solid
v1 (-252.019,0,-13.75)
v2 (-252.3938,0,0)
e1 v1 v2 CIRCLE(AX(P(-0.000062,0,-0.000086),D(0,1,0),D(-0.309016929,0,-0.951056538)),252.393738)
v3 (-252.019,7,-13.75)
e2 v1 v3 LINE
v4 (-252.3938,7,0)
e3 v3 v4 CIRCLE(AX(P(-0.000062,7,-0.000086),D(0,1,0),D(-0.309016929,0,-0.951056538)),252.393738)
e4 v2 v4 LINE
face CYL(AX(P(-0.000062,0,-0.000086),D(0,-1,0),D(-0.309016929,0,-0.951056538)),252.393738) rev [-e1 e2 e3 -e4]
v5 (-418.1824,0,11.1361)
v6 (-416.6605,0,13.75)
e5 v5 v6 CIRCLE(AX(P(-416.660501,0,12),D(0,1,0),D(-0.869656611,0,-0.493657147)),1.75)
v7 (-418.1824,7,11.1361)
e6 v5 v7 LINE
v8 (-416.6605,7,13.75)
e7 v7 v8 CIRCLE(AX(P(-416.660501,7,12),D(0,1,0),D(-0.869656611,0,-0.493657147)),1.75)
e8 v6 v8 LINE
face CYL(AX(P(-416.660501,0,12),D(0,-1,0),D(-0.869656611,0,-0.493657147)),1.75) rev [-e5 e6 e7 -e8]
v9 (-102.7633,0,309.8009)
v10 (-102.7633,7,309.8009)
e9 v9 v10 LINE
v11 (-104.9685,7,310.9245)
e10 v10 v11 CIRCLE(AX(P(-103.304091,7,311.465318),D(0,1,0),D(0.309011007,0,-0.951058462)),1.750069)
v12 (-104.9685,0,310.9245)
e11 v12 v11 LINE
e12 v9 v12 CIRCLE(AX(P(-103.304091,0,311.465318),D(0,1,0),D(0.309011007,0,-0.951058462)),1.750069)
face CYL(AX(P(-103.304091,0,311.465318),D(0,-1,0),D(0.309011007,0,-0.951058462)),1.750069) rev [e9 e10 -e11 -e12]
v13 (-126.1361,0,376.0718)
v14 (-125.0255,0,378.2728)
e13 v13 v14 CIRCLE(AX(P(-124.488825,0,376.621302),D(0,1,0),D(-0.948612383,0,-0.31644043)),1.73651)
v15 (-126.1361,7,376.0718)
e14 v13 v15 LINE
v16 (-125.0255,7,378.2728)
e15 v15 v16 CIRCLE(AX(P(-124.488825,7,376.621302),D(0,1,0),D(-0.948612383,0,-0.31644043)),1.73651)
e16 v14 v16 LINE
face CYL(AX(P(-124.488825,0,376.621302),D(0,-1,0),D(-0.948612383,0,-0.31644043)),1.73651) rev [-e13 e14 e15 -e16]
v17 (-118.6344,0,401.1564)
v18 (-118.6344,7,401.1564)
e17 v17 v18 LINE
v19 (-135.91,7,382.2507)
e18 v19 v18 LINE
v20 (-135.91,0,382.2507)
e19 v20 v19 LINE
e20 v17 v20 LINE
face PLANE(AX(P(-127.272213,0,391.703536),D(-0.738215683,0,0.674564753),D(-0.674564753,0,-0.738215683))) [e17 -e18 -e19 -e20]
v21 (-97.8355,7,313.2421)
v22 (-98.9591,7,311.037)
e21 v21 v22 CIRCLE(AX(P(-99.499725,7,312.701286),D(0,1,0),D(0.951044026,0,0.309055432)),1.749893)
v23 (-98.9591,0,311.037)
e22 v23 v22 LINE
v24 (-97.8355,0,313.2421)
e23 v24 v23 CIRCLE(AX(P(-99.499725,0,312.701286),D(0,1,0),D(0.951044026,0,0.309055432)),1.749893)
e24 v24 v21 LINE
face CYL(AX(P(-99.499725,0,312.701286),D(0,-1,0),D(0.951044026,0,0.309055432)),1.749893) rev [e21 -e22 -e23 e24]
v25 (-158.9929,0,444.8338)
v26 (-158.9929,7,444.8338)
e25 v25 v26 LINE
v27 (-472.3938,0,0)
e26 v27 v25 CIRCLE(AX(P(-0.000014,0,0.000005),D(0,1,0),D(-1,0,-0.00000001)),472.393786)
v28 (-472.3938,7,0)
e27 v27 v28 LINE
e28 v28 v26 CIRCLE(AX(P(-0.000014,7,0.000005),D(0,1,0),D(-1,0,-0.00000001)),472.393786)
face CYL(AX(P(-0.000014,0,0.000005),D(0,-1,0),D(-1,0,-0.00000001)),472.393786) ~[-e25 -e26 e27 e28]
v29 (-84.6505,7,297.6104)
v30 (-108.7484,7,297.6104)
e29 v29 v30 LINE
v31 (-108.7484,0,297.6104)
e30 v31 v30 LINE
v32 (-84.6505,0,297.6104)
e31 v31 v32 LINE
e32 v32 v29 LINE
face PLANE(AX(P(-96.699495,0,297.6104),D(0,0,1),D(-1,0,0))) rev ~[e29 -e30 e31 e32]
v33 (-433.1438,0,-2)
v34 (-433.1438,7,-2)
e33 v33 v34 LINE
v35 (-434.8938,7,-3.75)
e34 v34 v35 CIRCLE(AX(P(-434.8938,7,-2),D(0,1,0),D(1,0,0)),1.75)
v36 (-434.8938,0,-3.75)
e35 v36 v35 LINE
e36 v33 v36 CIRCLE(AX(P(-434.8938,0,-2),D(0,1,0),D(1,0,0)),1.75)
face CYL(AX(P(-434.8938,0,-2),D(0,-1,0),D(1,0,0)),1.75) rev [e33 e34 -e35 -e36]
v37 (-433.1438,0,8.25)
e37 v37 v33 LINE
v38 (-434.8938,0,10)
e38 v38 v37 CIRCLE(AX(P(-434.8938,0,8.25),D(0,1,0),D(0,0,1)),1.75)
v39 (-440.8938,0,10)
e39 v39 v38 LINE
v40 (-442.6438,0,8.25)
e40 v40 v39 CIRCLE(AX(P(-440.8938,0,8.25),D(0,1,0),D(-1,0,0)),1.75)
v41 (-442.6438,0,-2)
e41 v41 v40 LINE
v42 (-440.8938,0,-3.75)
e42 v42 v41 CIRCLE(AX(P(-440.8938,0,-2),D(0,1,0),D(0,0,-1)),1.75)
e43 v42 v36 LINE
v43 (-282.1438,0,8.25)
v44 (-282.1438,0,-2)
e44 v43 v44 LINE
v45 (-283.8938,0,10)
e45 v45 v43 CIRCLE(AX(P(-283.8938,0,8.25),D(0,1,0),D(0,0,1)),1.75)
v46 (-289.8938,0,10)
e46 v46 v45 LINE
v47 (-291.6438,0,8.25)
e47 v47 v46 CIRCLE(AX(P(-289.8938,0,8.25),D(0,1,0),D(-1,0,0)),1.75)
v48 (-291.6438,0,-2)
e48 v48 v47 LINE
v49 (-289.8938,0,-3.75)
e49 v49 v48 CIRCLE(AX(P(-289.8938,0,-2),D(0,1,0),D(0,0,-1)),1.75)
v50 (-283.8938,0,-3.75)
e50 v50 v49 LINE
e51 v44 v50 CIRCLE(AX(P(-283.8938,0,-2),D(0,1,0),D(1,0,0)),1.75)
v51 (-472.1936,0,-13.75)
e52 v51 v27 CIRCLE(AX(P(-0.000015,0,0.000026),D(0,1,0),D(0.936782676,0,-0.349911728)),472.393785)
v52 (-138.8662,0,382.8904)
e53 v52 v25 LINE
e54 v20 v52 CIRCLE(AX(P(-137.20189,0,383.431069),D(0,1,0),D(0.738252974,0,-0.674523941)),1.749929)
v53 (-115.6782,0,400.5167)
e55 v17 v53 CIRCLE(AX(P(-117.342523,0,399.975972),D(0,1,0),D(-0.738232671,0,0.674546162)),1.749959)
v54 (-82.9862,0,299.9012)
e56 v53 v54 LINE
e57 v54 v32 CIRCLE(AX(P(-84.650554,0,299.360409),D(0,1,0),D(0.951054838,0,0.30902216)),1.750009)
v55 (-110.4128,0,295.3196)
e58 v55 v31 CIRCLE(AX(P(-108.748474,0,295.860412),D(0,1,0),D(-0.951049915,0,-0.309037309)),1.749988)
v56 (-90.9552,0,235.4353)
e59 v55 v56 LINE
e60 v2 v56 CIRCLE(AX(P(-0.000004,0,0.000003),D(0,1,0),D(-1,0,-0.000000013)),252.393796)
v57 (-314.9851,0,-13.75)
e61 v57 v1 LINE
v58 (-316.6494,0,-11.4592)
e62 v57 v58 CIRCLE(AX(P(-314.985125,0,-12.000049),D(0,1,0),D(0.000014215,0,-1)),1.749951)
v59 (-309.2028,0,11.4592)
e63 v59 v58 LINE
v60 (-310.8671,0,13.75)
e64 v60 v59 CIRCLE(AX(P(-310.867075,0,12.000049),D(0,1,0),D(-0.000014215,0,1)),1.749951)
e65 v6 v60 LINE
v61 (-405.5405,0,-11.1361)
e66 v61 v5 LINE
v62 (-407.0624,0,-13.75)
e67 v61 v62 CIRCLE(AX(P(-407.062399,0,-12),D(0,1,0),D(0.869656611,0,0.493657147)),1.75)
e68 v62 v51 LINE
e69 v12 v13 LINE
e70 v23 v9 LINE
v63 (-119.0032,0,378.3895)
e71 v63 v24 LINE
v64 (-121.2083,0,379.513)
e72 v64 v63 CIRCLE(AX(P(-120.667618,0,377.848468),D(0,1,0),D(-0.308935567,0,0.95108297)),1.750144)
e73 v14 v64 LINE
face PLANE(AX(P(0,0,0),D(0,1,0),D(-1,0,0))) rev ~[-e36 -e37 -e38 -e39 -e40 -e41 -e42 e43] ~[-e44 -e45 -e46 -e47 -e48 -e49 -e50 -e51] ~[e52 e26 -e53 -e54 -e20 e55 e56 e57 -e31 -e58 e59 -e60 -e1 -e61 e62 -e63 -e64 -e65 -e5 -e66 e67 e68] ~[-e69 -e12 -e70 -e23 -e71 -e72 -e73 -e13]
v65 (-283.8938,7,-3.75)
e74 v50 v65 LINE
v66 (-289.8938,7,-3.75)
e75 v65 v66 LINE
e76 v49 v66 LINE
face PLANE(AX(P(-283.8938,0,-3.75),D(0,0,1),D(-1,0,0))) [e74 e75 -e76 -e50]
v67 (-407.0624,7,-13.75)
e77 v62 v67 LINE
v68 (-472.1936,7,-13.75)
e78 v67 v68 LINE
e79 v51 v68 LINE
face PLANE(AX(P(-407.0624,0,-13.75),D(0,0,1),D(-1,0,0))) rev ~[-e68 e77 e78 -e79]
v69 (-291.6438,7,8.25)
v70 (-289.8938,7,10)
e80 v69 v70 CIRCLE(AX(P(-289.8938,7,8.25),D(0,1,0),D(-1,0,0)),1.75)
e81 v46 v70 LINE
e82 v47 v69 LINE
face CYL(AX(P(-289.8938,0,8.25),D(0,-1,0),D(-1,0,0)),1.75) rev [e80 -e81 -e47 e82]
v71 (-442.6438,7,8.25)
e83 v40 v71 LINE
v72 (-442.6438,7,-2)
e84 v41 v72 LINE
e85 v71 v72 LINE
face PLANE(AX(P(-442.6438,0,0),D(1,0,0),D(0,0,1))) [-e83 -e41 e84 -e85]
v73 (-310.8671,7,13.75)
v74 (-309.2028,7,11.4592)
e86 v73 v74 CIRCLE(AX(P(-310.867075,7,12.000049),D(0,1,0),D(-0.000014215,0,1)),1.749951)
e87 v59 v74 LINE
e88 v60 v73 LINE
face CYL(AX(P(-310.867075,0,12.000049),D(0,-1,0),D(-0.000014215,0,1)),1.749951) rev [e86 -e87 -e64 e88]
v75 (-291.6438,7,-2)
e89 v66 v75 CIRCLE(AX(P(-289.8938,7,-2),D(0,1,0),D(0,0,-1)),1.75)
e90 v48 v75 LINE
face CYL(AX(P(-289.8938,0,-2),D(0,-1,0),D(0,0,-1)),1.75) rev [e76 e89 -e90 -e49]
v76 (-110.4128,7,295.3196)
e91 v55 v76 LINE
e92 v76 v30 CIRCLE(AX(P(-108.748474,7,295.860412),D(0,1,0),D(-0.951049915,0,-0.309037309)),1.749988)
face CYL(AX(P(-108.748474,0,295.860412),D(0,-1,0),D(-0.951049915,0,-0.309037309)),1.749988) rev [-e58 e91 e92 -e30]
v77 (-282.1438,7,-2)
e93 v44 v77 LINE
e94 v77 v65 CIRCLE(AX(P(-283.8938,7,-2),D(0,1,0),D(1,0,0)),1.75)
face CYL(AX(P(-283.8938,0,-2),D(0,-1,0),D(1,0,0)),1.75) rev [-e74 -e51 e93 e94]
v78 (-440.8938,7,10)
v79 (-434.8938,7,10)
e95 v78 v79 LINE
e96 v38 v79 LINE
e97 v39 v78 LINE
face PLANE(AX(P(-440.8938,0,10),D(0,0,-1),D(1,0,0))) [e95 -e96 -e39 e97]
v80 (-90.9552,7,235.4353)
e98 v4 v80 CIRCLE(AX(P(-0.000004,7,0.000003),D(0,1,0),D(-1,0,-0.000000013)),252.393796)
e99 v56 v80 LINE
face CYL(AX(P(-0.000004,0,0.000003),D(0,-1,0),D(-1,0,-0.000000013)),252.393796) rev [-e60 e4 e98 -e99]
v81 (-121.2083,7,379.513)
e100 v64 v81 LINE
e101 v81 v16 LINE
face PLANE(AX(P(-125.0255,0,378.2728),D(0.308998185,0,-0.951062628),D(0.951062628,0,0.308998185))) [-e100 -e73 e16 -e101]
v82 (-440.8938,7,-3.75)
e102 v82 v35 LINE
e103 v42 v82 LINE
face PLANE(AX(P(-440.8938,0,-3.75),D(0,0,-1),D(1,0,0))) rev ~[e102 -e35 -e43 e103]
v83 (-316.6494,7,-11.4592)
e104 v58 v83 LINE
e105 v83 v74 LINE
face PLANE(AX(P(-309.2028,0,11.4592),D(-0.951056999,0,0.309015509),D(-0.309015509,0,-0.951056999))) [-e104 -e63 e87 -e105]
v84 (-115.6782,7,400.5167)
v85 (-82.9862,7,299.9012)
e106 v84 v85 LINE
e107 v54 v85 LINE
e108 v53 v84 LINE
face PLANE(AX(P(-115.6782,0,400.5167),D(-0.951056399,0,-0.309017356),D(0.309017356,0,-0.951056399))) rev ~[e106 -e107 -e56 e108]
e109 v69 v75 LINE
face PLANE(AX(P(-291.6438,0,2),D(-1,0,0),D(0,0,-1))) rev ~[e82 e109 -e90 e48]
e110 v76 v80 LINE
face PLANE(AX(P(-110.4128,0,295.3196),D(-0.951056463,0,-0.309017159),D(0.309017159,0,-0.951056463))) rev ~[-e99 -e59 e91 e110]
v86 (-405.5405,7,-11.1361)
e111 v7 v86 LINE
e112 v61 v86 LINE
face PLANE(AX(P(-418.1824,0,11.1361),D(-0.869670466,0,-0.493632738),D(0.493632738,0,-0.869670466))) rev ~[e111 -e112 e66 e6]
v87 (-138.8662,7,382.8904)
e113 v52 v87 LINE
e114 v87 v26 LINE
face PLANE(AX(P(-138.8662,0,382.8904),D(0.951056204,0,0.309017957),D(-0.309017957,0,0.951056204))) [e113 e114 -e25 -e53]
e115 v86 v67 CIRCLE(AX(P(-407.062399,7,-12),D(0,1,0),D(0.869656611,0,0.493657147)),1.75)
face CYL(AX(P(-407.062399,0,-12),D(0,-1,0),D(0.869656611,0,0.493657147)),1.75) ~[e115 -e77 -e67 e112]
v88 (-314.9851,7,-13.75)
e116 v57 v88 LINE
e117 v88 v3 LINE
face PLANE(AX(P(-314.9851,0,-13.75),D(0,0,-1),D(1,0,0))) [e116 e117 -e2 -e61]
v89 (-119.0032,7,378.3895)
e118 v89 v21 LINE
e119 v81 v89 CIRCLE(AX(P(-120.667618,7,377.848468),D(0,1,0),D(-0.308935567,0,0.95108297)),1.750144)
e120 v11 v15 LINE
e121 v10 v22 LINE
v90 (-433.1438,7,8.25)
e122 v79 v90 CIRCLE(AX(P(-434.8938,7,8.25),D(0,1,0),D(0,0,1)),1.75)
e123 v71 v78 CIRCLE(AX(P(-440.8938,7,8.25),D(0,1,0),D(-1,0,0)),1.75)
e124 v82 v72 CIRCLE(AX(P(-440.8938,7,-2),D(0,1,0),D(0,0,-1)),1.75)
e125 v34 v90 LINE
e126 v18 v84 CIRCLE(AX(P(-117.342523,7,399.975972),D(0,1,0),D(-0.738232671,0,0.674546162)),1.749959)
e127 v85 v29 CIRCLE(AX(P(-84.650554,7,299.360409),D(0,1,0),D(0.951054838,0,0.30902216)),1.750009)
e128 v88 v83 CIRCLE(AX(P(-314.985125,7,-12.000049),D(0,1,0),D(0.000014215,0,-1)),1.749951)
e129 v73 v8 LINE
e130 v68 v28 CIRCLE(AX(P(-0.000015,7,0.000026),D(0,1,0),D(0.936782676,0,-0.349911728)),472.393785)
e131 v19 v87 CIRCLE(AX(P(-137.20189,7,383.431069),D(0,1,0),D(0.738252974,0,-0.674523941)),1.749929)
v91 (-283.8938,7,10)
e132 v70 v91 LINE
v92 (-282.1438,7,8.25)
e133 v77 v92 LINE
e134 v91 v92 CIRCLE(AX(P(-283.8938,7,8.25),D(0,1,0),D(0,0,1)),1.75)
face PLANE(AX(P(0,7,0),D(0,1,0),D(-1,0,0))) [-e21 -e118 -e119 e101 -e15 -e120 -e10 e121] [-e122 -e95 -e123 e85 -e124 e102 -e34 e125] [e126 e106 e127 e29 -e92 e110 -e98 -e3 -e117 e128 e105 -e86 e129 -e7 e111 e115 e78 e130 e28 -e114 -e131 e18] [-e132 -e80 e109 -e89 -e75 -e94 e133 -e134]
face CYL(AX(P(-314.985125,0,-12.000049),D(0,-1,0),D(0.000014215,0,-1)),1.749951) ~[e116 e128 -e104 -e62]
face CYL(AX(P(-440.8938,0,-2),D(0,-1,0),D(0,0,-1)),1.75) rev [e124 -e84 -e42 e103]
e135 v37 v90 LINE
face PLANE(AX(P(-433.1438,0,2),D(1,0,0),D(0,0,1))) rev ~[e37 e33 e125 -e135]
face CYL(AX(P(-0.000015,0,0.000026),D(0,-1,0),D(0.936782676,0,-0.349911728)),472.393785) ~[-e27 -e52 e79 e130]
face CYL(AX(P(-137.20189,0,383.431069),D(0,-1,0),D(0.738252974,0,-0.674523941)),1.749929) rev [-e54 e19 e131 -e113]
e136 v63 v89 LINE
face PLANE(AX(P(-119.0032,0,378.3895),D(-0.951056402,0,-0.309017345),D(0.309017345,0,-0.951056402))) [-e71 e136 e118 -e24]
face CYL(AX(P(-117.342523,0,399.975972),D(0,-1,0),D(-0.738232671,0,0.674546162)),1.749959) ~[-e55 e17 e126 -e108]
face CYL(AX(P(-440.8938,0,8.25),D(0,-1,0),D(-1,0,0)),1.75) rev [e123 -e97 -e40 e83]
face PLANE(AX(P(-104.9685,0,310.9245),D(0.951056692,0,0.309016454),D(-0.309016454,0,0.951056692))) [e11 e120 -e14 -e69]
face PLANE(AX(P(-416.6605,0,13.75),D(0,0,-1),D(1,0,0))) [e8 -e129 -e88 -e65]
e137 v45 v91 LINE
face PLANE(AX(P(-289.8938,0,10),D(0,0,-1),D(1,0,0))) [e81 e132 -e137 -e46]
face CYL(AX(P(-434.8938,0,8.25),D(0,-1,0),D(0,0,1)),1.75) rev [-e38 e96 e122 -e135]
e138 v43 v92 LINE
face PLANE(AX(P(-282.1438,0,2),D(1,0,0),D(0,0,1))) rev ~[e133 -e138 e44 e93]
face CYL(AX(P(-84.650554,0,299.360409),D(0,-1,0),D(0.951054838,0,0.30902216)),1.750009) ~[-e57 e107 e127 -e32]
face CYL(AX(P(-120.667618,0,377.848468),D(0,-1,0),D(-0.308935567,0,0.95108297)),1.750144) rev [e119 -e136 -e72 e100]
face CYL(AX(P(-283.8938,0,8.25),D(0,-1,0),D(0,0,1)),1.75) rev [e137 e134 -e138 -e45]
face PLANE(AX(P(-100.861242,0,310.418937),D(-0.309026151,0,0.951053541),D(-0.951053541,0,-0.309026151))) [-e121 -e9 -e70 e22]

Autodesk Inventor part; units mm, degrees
ref_plane "YZ Plane" through (0, 0, 0) normal (1, 0, 0) x (0, 1, 0)
ref_plane "XZ Plane" through (0, 0, 0) normal (0, 1, 0) x (-1, 0, 0)
ref_plane "XY Plane" through (0, 0, 0) normal (0, 0, 1) x (1, 0, 0)
sketch "Sketch1" plane through (0, 0, 0) normal (0, 1, 0) x (-1, 0, 0)
  line L0 (0, 0) -> (618.9442, 0)
  line L1 (0, 0) -> (191.2643, 588.6509)
  line L2 (0, 0) -> (-500.7364, 363.8063)
  line L3 (0, 0) -> (-500.7364, -363.8063)
  line L4 (0, 0) -> (191.2643, -588.6509)
  line L5 (396.6438, 3.75) -> (328.1438, 3.75)
  line L6 (328.1438, -3.75) -> (396.6438, -3.75)
  arc A0 (472.3938, 0) -> (145.9777, 449.2732) centre (0, 0) ccw
  arc A1 (77.994, -240.0408) -> (252.3938, 0) centre (0, 0) ccw
  line L7 (289.8938, 3.75) -> (283.8938, 3.75)
  line L8 (283.8938, -3.75) -> (289.8938, -3.75)
  arc A2 (328.1438, 3.75) -> (326.3938, 2) centre (328.1438, 2) ccw
  arc A3 (326.3938, -2) -> (328.1438, -3.75) centre (328.1438, -2) ccw
  line L9 (326.3938, 2) -> (326.3938, -2)
  arc A4 (398.3938, 2) -> (396.6438, 3.75) centre (396.6438, 2) ccw
  arc A5 (396.6438, -3.75) -> (398.3938, -2.0136) centre (396.6573, -2.0136) ccw
  line L10 (398.3938, -2.0136) -> (398.3938, 2)
  line L11 (362.3938, -3.75) -> (362.3938, 32.9806)
  arc A6 (283.8938, 3.75) -> (282.1438, 2) centre (283.8938, 2) ccw
  arc A7 (282.1438, -2) -> (283.8938, -3.75) centre (283.8938, -2) ccw
  arc A8 (289.8938, -3.75) -> (291.6438, -2) centre (289.8938, -2) ccw
  arc A9 (291.6438, 2) -> (289.8938, 3.75) centre (289.8938, 2) ccw
  line L12 (291.6438, 2) -> (291.6438, -2)
  line L13 (282.1438, -2) -> (282.1438, 2)
  line L14 (434.8938, 3.75) -> (440.8938, 3.75)
  line L15 (440.8938, -3.75) -> (434.8938, -3.75)
  arc A10 (442.6438, 2) -> (440.8938, 3.75) centre (440.8938, 2) ccw
  arc A11 (440.8938, -3.75) -> (442.6438, -2) centre (440.8938, -2) ccw
  arc A12 (433.1438, -2) -> (434.8938, -3.75) centre (434.8938, -2) ccw
  arc A13 (434.8938, 3.75) -> (433.1438, 2) centre (434.8938, 2) ccw
  line L16 (433.1438, 2) -> (433.1438, -2)
  line L17 (442.6438, -2) -> (442.6438, 2)
  line L18 (131.9467, 412.5623) -> (135.7509, 411.3262)
  arc A14 (130.8231, 414.7674) -> (131.9467, 412.5623) centre (132.4875, 414.2266) ccw
  arc A15 (135.7509, 411.3262) -> (137.956, 412.4498) centre (136.2917, 412.9905) ccw
  line L19 (139.8101, 418.1561) -> (137.956, 412.4498)
  line L20 (130.8231, 414.7674) -> (132.6772, 420.4737)
  arc A16 (134.8823, 421.5973) -> (132.6772, 420.4737) centre (134.3416, 419.9329) ccw
  line L21 (138.6866, 420.3612) -> (134.8823, 421.5973)
  arc A17 (139.8101, 418.1561) -> (138.6866, 420.3612) centre (138.1458, 418.6969) ccw
  line L22 (125.0255, 378.2728) -> (121.2083, 379.513)
  arc A18 (121.2083, 379.513) -> (119.0032, 378.3895) centre (120.6676, 377.8487) ccw
  arc A19 (126.1361, 376.0718) -> (125.0255, 378.2728) centre (124.4888, 376.6213) ccw
  line L23 (119.0032, 378.3895) -> (97.8355, 313.2421)
  line L24 (98.9591, 311.037) -> (102.7633, 309.8009)
  arc A20 (97.8355, 313.2421) -> (98.9591, 311.037) centre (99.4999, 312.7013) ccw
  arc A21 (102.7633, 309.8009) -> (104.9685, 310.9245) centre (103.3041, 311.4652) ccw
  line L25 (104.9685, 310.9245) -> (126.1361, 376.0718)
  line L26 (88.2208, 277.9878) -> (92.025, 276.7517)
  arc A22 (93.1486, 274.5466) -> (92.025, 276.7517) centre (91.4842, 275.0873) ccw
  line L27 (91.2945, 268.8402) -> (93.1486, 274.5466)
  arc A23 (88.2208, 277.9878) -> (86.0156, 276.8642) centre (87.68, 276.3234) ccw
  line L28 (86.0156, 276.8642) -> (84.1615, 271.1578)
  arc A24 (84.1615, 271.1578) -> (85.2851, 268.9527) centre (85.8259, 270.6171) ccw
  arc A25 (89.0893, 267.7166) -> (91.2945, 268.8402) centre (89.6301, 269.381) ccw
  line L29 (89.0893, 267.7166) -> (85.2851, 268.9527)
  line L30 (-351.5963, 252.9775) -> (-349.2451, 256.2136)
  arc A26 (-354.0407, 252.5903) -> (-351.5963, 252.9775) centre (-353.012, 254.0061) ccw
  arc A27 (-349.2451, 256.2136) -> (-349.6323, 258.658) centre (-350.6609, 257.2422) ccw
  line L31 (-354.4864, 262.1847) -> (-349.6323, 258.658)
  line L32 (-354.0407, 252.5903) -> (-358.8948, 256.1171)
  arc A28 (-359.2819, 258.5615) -> (-358.8948, 256.1171) centre (-357.8661, 257.5328) ccw
  line L33 (-356.9308, 261.7975) -> (-359.2819, 258.5615)
  arc A29 (-354.4864, 262.1847) -> (-356.9308, 261.7975) centre (-355.515, 260.7689) ccw
  line L34 (-321.1238, 235.799) -> (-323.4829, 232.552)
  arc A30 (-323.4829, 232.552) -> (-323.0958, 230.1076) centre (-322.0671, 231.5233) ccw
  arc A31 (-318.6874, 236.1752) -> (-321.1238, 235.799) centre (-319.7189, 234.7783) ccw
  line L35 (-323.0958, 230.1076) -> (-267.6781, 189.8443)
  line L36 (-265.2337, 190.2314) -> (-262.8825, 193.4675)
  arc A32 (-267.6781, 189.8443) -> (-265.2337, 190.2314) centre (-266.6495, 191.26) ccw
  arc A33 (-262.8825, 193.4675) -> (-263.2697, 195.9119) centre (-264.2983, 194.4961) ccw
  line L37 (-263.2697, 195.9119) -> (-318.6874, 236.1752)
  line L38 (-237.1203, 169.8059) -> (-234.7692, 173.0419)
  arc A34 (-232.3248, 173.4291) -> (-234.7692, 173.0419) centre (-233.3534, 172.0133) ccw
  line L39 (-227.4707, 169.9024) -> (-232.3248, 173.4291)
  arc A35 (-237.1203, 169.8059) -> (-236.7332, 167.3615) centre (-235.7046, 168.7773) ccw
  line L40 (-236.7332, 167.3615) -> (-231.8791, 163.8348)
  arc A36 (-231.8791, 163.8348) -> (-229.4347, 164.2219) centre (-230.8505, 165.2505) ccw
  arc A37 (-227.0835, 167.458) -> (-227.4707, 169.9024) centre (-228.4993, 168.4866) ccw
  line L41 (-227.0835, 167.458) -> (-229.4347, 164.2219)
  line L42 (-349.2451, -256.2136) -> (-351.5963, -252.9775)
  arc A38 (-349.6323, -258.658) -> (-349.2451, -256.2136) centre (-350.6609, -257.2422) ccw
  arc A39 (-351.5963, -252.9775) -> (-354.0407, -252.5903) centre (-353.012, -254.0061) ccw
  line L43 (-358.8948, -256.117) -> (-354.0407, -252.5903)
  line L44 (-349.6323, -258.658) -> (-354.4864, -262.1847)
  arc A40 (-356.9308, -261.7975) -> (-354.4864, -262.1847) centre (-355.515, -260.7689) ccw
  line L45 (-359.2819, -258.5615) -> (-356.9308, -261.7975)
  arc A41 (-358.8948, -256.117) -> (-359.2819, -258.5615) centre (-357.8661, -257.5328) ccw
  line L46 (-323.4909, -232.541) -> (-321.1318, -235.788)
  arc A42 (-321.1318, -235.788) -> (-318.6874, -236.1752) centre (-319.716, -234.7594) ccw
  arc A43 (-323.0958, -230.1076) -> (-323.4909, -232.541) centre (-322.086, -231.5203) ccw
  line L47 (-318.6874, -236.1752) -> (-263.2697, -195.9119)
  line L48 (-262.8825, -193.4675) -> (-265.2337, -190.2314)
  arc A44 (-263.2697, -195.9119) -> (-262.8825, -193.4675) centre (-264.2983, -194.4961) ccw
  arc A45 (-265.2337, -190.2314) -> (-267.6781, -189.8443) centre (-266.6495, -191.26) ccw
  line L49 (-267.6781, -189.8443) -> (-323.0958, -230.1076)
  line L50 (-234.7692, -173.0419) -> (-237.1203, -169.8059)
  arc A46 (-236.7332, -167.3615) -> (-237.1203, -169.8059) centre (-235.7046, -168.7773) ccw
  line L51 (-231.8791, -163.8348) -> (-236.7332, -167.3615)
  arc A47 (-234.7692, -173.0419) -> (-232.3248, -173.4291) centre (-233.3534, -172.0133) ccw
  line L52 (-232.3248, -173.4291) -> (-227.4707, -169.9024)
  arc A48 (-227.4707, -169.9024) -> (-227.0835, -167.458) centre (-228.4993, -168.4866) ccw
  arc A49 (-229.4347, -164.2219) -> (-231.8791, -163.8348) centre (-230.8505, -165.2505) ccw
  line L53 (-229.4347, -164.2219) -> (-227.0835, -167.458)
  line L54 (135.7509, -411.3262) -> (131.9467, -412.5623)
  arc A50 (137.956, -412.4498) -> (135.7509, -411.3262) centre (136.2917, -412.9905) ccw
  arc A51 (131.9467, -412.5623) -> (130.8231, -414.7674) centre (132.4875, -414.2266) ccw
  line L55 (132.6772, -420.4737) -> (130.8231, -414.7674)
  line L56 (137.956, -412.4498) -> (139.8101, -418.1561)
  arc A52 (138.6866, -420.3612) -> (139.8101, -418.1561) centre (138.1458, -418.6969) ccw
  line L57 (134.8823, -421.5973) -> (138.6866, -420.3612)
  arc A53 (132.6772, -420.4737) -> (134.8823, -421.5973) centre (134.3416, -419.9329) ccw
  line L58 (121.1954, -379.5172) -> (125.0126, -378.277)
  arc A54 (125.0126, -378.277) -> (126.1361, -376.0718) centre (124.4718, -376.6126) ccw
  arc A55 (119.0032, -378.3895) -> (121.1954, -379.5172) centre (120.6588, -377.8657) ccw
  line L59 (126.1361, -376.0718) -> (104.9685, -310.9245)
  line L60 (102.7633, -309.8009) -> (98.9591, -311.037)
  arc A56 (104.9685, -310.9245) -> (102.7633, -309.8009) centre (103.3041, -311.4652) ccw
  arc A57 (98.9591, -311.037) -> (97.8355, -313.2421) centre (99.4999, -312.7013) ccw
  line L61 (97.8355, -313.2421) -> (119.0032, -378.3895)
  line L62 (92.025, -276.7517) -> (88.2208, -277.9878)
  arc A58 (86.0156, -276.8642) -> (88.2208, -277.9878) centre (87.68, -276.3234) ccw
  line L63 (84.1615, -271.1578) -> (86.0156, -276.8642)
  arc A59 (92.025, -276.7517) -> (93.1486, -274.5466) centre (91.4842, -275.0873) ccw
  line L64 (93.1486, -274.5466) -> (91.2945, -268.8402)
  arc A60 (91.2945, -268.8402) -> (89.0893, -267.7166) centre (89.6301, -269.381) ccw
  arc A61 (85.2851, -268.9527) -> (84.1615, -271.1578) centre (85.8259, -270.6171) ccw
  line L65 (85.2851, -268.9527) -> (89.0893, -267.7166)
  line L66 (-442.5303, 165.2961) -> (-220.837, 122.2033)
  line L67 (-442.5303, -165.2961) -> (-220.837, -122.2033)
  arc A62 (252.3938, 0) -> (-220.837, 122.2033) centre (0, 0) ccw
  arc A63 (-220.837, -122.2033) -> (77.994, -240.0408) centre (0, 0) ccw
  arc A64 (145.9777, 449.2732) -> (-442.5303, 165.2961) centre (0, 0) ccw
  arc A65 (-442.5303, -165.2961) -> (472.3938, 0) centre (0, 0) ccw
  line L68 (115.6782, 400.5167) -> (82.9862, 299.9012)
  line L69 (84.6505, 297.6104) -> (108.7484, 297.6104)
  line L70 (110.4128, 295.3196) -> (90.9552, 235.4353)
  line L71 (138.8662, 382.8904) -> (158.9929, 444.8338)
  line L72 (118.6344, 401.1564) -> (135.91, 382.2507)
  line L73 (123.1169, 378.8929) -> (127.2722, 391.7035) construction
  line L74 (100.8612, 310.4189) -> (96.6995, 297.6104) construction
  arc A66 (135.91, 382.2507) -> (138.8662, 382.8904) centre (137.2019, 383.4311) ccw
  arc A67 (118.6344, 401.1564) -> (115.6782, 400.5167) centre (117.3425, 399.9759) ccw
  arc A68 (82.9862, 299.9012) -> (84.6505, 297.6104) centre (84.6505, 299.3604) ccw
  arc A69 (110.4128, 295.3196) -> (108.7484, 297.6104) centre (108.7484, 295.8604) ccw
  line L75 (407.0624, -13.75) -> (472.1936, -13.75)
  arc A70 (405.5405, -11.1361) -> (407.0624, -13.75) centre (407.0624, -12) ccw
  line L76 (418.1824, 11.1361) -> (405.5405, -11.1361)
  arc A71 (418.1824, 11.1361) -> (416.6605, 13.75) centre (416.6605, 12) ccw
  line L77 (416.6605, 13.75) -> (310.8671, 13.75)
  line L78 (309.2028, 11.4592) -> (316.6494, -11.4592)
  arc A72 (310.8671, 13.75) -> (309.2028, 11.4592) centre (310.8671, 12) ccw
  arc A73 (314.9851, -13.75) -> (316.6494, -11.4592) centre (314.9851, -12) ccw
  line L79 (314.9851, -13.75) -> (252.019, -13.75)
  line L80 (112.7122, -391.3883) -> (132.8388, -453.3318)
  arc A74 (114.7278, -389.1332) -> (112.7122, -391.3883) centre (114.3765, -390.8476) ccw
  line L81 (139.8166, -394.2739) -> (114.7278, -389.1332)
  arc A75 (139.8166, -394.2739) -> (141.8322, -392.0187) centre (140.1679, -392.5595) ccw
  line L82 (141.8322, -392.0187) -> (109.1403, -291.4032)
  line L83 (106.4473, -290.5282) -> (86.9517, -304.6926)
  arc A76 (109.1403, -291.4032) -> (106.4473, -290.5282) centre (107.4759, -291.944) ccw
  arc A77 (84.2587, -303.8176) -> (86.9517, -304.6926) centre (85.9231, -303.2768) ccw
  line L84 (84.2587, -303.8176) -> (64.8011, -243.9333)
  line L85 (-359.2819, 258.5615) -> (-362.9556, 253.5051)
  line L86 (-362.5684, 251.0607) -> (-357.7143, 247.534)
  line L87 (-351.5963, 252.9775) -> (-355.2699, 247.9211)
  arc A78 (-362.9556, 253.5051) -> (-362.5684, 251.0607) centre (-361.5398, 252.4765) ccw
  arc A79 (-357.7143, 247.534) -> (-355.2699, 247.9211) centre (-356.6857, 248.9498) ccw
  line L88 (-237.1203, 169.8059) -> (-240.794, 164.7495)
  line L89 (-240.4068, 162.3051) -> (-235.5527, 158.7784)
  line L90 (-229.4347, 164.2219) -> (-233.1083, 159.1656)
  arc A80 (-240.794, 164.7495) -> (-240.4068, 162.3051) centre (-239.3782, 163.7209) ccw
  arc A81 (-235.5527, 158.7784) -> (-233.1083, 159.1656) centre (-234.5241, 160.1942) ccw
  line L91 (-356.9308, -261.7975) -> (-353.2571, -266.8539)
  arc A82 (-353.2571, -266.8539) -> (-350.8127, -267.241) centre (-351.8413, -265.8253) ccw
  line L92 (-350.8127, -267.241) -> (-345.9586, -263.7143)
  arc A83 (-345.9586, -263.7143) -> (-345.5715, -261.2699) centre (-346.9872, -262.2985) ccw
  line L93 (-349.2451, -256.2136) -> (-345.5715, -261.2699)
  line L94 (-234.7692, -173.0419) -> (-231.0955, -178.0983)
  arc A84 (-231.0955, -178.0983) -> (-228.6511, -178.4855) centre (-229.6798, -177.0697) ccw
  line L95 (-228.6511, -178.4855) -> (-223.797, -174.9587)
  arc A85 (-223.797, -174.9587) -> (-223.4099, -172.5143) centre (-224.8257, -173.543) ccw
  line L96 (-227.0835, -167.458) -> (-223.4099, -172.5143)
  line L97 (138.6866, -420.3612) -> (144.6307, -418.4299)
  arc A86 (144.6307, -418.4299) -> (145.7542, -416.2247) centre (144.0899, -416.7655) ccw
  line L98 (145.7542, -416.2247) -> (143.9001, -410.5184)
  arc A87 (143.9001, -410.5184) -> (141.695, -409.3948) centre (142.2358, -411.0592) ccw
  line L99 (135.7509, -411.3262) -> (141.695, -409.3948)
  line L100 (92.025, -276.7517) -> (97.9691, -274.8203)
  arc A88 (97.9691, -274.8203) -> (99.0927, -272.6152) centre (97.4283, -273.156) ccw
  line L101 (99.0927, -272.6152) -> (97.2386, -266.9089)
  arc A89 (97.2386, -266.9089) -> (95.0334, -265.7853) centre (95.5742, -267.4496) ccw
  line L102 (89.0893, -267.7166) -> (95.0334, -265.7853)
  line L103 (442.6438, 2) -> (442.6438, 8.25)
  arc A90 (442.6438, 8.25) -> (440.8938, 10) centre (440.8938, 8.25) ccw
  line L104 (440.8938, 10) -> (434.8938, 10)
  arc A91 (434.8938, 10) -> (433.1438, 8.25) centre (434.8938, 8.25) ccw
  line L105 (433.1438, 2) -> (433.1438, 8.25)
  line L106 (291.6438, 2) -> (291.6438, 8.25)
  arc A92 (291.6438, 8.25) -> (289.8938, 10) centre (289.8938, 8.25) ccw
  line L107 (289.8938, 10) -> (283.8938, 10)
  arc A93 (283.8938, 10) -> (282.1438, 8.25) centre (283.8938, 8.25) ccw
  line L108 (282.1438, 2) -> (282.1438, 8.25)
  line L109 (134.8823, 421.5973) -> (128.9382, 423.5286)
  arc A94 (128.9382, 423.5286) -> (126.7331, 422.4051) centre (128.3975, 421.8643) ccw
  line L110 (126.7331, 422.4051) -> (124.879, 416.6987)
  arc A95 (124.879, 416.6987) -> (126.0026, 414.4936) centre (126.5434, 416.158) ccw
  line L111 (131.9467, 412.5623) -> (126.0026, 414.4936)
  line L112 (88.2208, 277.9878) -> (82.2767, 279.9191)
  arc A96 (82.2767, 279.9191) -> (80.0715, 278.7955) centre (81.7359, 278.2548) ccw
  line L113 (80.0715, 278.7955) -> (78.2174, 273.0892)
  arc A97 (78.2174, 273.0892) -> (79.341, 270.8841) centre (79.8818, 272.5484) ccw
  line L114 (85.2851, 268.9527) -> (79.341, 270.8841)
  point P0 (115.5523, 343.4982)
  point P1 (-290.9785, 216.0435)
  point P2 (-295.3869, -209.9759)
  point P3 (108.4194, -345.8158)
  point P4 (137.9375, 380.0319)
  point P5 (97.9406, 311.9068)
  point P6 (104.0986, 309.906)
  point P7 (119.8731, 379.408)
  point P8 (404.0568, -13.75)
  point P9 (411.8615, 0)
  point P10 (312.9261, 0)
  point P11 (111.7834, -388.5299)
  point P12 (127.2722, -391.7035)
  point P13 (96.6995, -297.6104)
  point P14 (282.1438, 2)
  point P15 (442.6438, 2)
  dimension "d4" = 360
  dimension "d6" = 7.5
  dimension "d7" = 7.5
  dimension "d9" = 68.5
  dimension "d10" = 7.5
  dimension "d11" = 7.5
  dimension "d12" = 3.5
  dimension "d13" = 3.5
  dimension "d19" = 360
  dimension "d21" = 25
  dimension "d25" = 10
  dimension "d26" = 10
  dimension "d27" = 1.75
  dimension "d30" = 144
  dimension "d34" = 0
  dimension "d35" = 8
  dimension "d36" = 1.75
  dimension "d43" = 8
  dimension "d44" = 1.75
  dimension "d47" = 360
extrude "Extrusion1" add sketch "Sketch1" along normal blind 7 contours A62 L70 A69 L69 L1 L24 A21 L25 A19 L22 L72 A66 L71 A0 L0 L17 L103 A90 L104 A91 L105 L16 L76 A71 L77 A72 L78 L12 L106 A92 L107 A93 L108 L13 | L0 L13 A7 L8 A8 L12 L78 A73 L79 A1 | L69 A68 L68 A67 L72 L1 L22 A18 L23 A20 L24 | A65 L75 A70 L76 L0 L16 A12 L15 A11 L17
properties part number "Level 3c - V2"
